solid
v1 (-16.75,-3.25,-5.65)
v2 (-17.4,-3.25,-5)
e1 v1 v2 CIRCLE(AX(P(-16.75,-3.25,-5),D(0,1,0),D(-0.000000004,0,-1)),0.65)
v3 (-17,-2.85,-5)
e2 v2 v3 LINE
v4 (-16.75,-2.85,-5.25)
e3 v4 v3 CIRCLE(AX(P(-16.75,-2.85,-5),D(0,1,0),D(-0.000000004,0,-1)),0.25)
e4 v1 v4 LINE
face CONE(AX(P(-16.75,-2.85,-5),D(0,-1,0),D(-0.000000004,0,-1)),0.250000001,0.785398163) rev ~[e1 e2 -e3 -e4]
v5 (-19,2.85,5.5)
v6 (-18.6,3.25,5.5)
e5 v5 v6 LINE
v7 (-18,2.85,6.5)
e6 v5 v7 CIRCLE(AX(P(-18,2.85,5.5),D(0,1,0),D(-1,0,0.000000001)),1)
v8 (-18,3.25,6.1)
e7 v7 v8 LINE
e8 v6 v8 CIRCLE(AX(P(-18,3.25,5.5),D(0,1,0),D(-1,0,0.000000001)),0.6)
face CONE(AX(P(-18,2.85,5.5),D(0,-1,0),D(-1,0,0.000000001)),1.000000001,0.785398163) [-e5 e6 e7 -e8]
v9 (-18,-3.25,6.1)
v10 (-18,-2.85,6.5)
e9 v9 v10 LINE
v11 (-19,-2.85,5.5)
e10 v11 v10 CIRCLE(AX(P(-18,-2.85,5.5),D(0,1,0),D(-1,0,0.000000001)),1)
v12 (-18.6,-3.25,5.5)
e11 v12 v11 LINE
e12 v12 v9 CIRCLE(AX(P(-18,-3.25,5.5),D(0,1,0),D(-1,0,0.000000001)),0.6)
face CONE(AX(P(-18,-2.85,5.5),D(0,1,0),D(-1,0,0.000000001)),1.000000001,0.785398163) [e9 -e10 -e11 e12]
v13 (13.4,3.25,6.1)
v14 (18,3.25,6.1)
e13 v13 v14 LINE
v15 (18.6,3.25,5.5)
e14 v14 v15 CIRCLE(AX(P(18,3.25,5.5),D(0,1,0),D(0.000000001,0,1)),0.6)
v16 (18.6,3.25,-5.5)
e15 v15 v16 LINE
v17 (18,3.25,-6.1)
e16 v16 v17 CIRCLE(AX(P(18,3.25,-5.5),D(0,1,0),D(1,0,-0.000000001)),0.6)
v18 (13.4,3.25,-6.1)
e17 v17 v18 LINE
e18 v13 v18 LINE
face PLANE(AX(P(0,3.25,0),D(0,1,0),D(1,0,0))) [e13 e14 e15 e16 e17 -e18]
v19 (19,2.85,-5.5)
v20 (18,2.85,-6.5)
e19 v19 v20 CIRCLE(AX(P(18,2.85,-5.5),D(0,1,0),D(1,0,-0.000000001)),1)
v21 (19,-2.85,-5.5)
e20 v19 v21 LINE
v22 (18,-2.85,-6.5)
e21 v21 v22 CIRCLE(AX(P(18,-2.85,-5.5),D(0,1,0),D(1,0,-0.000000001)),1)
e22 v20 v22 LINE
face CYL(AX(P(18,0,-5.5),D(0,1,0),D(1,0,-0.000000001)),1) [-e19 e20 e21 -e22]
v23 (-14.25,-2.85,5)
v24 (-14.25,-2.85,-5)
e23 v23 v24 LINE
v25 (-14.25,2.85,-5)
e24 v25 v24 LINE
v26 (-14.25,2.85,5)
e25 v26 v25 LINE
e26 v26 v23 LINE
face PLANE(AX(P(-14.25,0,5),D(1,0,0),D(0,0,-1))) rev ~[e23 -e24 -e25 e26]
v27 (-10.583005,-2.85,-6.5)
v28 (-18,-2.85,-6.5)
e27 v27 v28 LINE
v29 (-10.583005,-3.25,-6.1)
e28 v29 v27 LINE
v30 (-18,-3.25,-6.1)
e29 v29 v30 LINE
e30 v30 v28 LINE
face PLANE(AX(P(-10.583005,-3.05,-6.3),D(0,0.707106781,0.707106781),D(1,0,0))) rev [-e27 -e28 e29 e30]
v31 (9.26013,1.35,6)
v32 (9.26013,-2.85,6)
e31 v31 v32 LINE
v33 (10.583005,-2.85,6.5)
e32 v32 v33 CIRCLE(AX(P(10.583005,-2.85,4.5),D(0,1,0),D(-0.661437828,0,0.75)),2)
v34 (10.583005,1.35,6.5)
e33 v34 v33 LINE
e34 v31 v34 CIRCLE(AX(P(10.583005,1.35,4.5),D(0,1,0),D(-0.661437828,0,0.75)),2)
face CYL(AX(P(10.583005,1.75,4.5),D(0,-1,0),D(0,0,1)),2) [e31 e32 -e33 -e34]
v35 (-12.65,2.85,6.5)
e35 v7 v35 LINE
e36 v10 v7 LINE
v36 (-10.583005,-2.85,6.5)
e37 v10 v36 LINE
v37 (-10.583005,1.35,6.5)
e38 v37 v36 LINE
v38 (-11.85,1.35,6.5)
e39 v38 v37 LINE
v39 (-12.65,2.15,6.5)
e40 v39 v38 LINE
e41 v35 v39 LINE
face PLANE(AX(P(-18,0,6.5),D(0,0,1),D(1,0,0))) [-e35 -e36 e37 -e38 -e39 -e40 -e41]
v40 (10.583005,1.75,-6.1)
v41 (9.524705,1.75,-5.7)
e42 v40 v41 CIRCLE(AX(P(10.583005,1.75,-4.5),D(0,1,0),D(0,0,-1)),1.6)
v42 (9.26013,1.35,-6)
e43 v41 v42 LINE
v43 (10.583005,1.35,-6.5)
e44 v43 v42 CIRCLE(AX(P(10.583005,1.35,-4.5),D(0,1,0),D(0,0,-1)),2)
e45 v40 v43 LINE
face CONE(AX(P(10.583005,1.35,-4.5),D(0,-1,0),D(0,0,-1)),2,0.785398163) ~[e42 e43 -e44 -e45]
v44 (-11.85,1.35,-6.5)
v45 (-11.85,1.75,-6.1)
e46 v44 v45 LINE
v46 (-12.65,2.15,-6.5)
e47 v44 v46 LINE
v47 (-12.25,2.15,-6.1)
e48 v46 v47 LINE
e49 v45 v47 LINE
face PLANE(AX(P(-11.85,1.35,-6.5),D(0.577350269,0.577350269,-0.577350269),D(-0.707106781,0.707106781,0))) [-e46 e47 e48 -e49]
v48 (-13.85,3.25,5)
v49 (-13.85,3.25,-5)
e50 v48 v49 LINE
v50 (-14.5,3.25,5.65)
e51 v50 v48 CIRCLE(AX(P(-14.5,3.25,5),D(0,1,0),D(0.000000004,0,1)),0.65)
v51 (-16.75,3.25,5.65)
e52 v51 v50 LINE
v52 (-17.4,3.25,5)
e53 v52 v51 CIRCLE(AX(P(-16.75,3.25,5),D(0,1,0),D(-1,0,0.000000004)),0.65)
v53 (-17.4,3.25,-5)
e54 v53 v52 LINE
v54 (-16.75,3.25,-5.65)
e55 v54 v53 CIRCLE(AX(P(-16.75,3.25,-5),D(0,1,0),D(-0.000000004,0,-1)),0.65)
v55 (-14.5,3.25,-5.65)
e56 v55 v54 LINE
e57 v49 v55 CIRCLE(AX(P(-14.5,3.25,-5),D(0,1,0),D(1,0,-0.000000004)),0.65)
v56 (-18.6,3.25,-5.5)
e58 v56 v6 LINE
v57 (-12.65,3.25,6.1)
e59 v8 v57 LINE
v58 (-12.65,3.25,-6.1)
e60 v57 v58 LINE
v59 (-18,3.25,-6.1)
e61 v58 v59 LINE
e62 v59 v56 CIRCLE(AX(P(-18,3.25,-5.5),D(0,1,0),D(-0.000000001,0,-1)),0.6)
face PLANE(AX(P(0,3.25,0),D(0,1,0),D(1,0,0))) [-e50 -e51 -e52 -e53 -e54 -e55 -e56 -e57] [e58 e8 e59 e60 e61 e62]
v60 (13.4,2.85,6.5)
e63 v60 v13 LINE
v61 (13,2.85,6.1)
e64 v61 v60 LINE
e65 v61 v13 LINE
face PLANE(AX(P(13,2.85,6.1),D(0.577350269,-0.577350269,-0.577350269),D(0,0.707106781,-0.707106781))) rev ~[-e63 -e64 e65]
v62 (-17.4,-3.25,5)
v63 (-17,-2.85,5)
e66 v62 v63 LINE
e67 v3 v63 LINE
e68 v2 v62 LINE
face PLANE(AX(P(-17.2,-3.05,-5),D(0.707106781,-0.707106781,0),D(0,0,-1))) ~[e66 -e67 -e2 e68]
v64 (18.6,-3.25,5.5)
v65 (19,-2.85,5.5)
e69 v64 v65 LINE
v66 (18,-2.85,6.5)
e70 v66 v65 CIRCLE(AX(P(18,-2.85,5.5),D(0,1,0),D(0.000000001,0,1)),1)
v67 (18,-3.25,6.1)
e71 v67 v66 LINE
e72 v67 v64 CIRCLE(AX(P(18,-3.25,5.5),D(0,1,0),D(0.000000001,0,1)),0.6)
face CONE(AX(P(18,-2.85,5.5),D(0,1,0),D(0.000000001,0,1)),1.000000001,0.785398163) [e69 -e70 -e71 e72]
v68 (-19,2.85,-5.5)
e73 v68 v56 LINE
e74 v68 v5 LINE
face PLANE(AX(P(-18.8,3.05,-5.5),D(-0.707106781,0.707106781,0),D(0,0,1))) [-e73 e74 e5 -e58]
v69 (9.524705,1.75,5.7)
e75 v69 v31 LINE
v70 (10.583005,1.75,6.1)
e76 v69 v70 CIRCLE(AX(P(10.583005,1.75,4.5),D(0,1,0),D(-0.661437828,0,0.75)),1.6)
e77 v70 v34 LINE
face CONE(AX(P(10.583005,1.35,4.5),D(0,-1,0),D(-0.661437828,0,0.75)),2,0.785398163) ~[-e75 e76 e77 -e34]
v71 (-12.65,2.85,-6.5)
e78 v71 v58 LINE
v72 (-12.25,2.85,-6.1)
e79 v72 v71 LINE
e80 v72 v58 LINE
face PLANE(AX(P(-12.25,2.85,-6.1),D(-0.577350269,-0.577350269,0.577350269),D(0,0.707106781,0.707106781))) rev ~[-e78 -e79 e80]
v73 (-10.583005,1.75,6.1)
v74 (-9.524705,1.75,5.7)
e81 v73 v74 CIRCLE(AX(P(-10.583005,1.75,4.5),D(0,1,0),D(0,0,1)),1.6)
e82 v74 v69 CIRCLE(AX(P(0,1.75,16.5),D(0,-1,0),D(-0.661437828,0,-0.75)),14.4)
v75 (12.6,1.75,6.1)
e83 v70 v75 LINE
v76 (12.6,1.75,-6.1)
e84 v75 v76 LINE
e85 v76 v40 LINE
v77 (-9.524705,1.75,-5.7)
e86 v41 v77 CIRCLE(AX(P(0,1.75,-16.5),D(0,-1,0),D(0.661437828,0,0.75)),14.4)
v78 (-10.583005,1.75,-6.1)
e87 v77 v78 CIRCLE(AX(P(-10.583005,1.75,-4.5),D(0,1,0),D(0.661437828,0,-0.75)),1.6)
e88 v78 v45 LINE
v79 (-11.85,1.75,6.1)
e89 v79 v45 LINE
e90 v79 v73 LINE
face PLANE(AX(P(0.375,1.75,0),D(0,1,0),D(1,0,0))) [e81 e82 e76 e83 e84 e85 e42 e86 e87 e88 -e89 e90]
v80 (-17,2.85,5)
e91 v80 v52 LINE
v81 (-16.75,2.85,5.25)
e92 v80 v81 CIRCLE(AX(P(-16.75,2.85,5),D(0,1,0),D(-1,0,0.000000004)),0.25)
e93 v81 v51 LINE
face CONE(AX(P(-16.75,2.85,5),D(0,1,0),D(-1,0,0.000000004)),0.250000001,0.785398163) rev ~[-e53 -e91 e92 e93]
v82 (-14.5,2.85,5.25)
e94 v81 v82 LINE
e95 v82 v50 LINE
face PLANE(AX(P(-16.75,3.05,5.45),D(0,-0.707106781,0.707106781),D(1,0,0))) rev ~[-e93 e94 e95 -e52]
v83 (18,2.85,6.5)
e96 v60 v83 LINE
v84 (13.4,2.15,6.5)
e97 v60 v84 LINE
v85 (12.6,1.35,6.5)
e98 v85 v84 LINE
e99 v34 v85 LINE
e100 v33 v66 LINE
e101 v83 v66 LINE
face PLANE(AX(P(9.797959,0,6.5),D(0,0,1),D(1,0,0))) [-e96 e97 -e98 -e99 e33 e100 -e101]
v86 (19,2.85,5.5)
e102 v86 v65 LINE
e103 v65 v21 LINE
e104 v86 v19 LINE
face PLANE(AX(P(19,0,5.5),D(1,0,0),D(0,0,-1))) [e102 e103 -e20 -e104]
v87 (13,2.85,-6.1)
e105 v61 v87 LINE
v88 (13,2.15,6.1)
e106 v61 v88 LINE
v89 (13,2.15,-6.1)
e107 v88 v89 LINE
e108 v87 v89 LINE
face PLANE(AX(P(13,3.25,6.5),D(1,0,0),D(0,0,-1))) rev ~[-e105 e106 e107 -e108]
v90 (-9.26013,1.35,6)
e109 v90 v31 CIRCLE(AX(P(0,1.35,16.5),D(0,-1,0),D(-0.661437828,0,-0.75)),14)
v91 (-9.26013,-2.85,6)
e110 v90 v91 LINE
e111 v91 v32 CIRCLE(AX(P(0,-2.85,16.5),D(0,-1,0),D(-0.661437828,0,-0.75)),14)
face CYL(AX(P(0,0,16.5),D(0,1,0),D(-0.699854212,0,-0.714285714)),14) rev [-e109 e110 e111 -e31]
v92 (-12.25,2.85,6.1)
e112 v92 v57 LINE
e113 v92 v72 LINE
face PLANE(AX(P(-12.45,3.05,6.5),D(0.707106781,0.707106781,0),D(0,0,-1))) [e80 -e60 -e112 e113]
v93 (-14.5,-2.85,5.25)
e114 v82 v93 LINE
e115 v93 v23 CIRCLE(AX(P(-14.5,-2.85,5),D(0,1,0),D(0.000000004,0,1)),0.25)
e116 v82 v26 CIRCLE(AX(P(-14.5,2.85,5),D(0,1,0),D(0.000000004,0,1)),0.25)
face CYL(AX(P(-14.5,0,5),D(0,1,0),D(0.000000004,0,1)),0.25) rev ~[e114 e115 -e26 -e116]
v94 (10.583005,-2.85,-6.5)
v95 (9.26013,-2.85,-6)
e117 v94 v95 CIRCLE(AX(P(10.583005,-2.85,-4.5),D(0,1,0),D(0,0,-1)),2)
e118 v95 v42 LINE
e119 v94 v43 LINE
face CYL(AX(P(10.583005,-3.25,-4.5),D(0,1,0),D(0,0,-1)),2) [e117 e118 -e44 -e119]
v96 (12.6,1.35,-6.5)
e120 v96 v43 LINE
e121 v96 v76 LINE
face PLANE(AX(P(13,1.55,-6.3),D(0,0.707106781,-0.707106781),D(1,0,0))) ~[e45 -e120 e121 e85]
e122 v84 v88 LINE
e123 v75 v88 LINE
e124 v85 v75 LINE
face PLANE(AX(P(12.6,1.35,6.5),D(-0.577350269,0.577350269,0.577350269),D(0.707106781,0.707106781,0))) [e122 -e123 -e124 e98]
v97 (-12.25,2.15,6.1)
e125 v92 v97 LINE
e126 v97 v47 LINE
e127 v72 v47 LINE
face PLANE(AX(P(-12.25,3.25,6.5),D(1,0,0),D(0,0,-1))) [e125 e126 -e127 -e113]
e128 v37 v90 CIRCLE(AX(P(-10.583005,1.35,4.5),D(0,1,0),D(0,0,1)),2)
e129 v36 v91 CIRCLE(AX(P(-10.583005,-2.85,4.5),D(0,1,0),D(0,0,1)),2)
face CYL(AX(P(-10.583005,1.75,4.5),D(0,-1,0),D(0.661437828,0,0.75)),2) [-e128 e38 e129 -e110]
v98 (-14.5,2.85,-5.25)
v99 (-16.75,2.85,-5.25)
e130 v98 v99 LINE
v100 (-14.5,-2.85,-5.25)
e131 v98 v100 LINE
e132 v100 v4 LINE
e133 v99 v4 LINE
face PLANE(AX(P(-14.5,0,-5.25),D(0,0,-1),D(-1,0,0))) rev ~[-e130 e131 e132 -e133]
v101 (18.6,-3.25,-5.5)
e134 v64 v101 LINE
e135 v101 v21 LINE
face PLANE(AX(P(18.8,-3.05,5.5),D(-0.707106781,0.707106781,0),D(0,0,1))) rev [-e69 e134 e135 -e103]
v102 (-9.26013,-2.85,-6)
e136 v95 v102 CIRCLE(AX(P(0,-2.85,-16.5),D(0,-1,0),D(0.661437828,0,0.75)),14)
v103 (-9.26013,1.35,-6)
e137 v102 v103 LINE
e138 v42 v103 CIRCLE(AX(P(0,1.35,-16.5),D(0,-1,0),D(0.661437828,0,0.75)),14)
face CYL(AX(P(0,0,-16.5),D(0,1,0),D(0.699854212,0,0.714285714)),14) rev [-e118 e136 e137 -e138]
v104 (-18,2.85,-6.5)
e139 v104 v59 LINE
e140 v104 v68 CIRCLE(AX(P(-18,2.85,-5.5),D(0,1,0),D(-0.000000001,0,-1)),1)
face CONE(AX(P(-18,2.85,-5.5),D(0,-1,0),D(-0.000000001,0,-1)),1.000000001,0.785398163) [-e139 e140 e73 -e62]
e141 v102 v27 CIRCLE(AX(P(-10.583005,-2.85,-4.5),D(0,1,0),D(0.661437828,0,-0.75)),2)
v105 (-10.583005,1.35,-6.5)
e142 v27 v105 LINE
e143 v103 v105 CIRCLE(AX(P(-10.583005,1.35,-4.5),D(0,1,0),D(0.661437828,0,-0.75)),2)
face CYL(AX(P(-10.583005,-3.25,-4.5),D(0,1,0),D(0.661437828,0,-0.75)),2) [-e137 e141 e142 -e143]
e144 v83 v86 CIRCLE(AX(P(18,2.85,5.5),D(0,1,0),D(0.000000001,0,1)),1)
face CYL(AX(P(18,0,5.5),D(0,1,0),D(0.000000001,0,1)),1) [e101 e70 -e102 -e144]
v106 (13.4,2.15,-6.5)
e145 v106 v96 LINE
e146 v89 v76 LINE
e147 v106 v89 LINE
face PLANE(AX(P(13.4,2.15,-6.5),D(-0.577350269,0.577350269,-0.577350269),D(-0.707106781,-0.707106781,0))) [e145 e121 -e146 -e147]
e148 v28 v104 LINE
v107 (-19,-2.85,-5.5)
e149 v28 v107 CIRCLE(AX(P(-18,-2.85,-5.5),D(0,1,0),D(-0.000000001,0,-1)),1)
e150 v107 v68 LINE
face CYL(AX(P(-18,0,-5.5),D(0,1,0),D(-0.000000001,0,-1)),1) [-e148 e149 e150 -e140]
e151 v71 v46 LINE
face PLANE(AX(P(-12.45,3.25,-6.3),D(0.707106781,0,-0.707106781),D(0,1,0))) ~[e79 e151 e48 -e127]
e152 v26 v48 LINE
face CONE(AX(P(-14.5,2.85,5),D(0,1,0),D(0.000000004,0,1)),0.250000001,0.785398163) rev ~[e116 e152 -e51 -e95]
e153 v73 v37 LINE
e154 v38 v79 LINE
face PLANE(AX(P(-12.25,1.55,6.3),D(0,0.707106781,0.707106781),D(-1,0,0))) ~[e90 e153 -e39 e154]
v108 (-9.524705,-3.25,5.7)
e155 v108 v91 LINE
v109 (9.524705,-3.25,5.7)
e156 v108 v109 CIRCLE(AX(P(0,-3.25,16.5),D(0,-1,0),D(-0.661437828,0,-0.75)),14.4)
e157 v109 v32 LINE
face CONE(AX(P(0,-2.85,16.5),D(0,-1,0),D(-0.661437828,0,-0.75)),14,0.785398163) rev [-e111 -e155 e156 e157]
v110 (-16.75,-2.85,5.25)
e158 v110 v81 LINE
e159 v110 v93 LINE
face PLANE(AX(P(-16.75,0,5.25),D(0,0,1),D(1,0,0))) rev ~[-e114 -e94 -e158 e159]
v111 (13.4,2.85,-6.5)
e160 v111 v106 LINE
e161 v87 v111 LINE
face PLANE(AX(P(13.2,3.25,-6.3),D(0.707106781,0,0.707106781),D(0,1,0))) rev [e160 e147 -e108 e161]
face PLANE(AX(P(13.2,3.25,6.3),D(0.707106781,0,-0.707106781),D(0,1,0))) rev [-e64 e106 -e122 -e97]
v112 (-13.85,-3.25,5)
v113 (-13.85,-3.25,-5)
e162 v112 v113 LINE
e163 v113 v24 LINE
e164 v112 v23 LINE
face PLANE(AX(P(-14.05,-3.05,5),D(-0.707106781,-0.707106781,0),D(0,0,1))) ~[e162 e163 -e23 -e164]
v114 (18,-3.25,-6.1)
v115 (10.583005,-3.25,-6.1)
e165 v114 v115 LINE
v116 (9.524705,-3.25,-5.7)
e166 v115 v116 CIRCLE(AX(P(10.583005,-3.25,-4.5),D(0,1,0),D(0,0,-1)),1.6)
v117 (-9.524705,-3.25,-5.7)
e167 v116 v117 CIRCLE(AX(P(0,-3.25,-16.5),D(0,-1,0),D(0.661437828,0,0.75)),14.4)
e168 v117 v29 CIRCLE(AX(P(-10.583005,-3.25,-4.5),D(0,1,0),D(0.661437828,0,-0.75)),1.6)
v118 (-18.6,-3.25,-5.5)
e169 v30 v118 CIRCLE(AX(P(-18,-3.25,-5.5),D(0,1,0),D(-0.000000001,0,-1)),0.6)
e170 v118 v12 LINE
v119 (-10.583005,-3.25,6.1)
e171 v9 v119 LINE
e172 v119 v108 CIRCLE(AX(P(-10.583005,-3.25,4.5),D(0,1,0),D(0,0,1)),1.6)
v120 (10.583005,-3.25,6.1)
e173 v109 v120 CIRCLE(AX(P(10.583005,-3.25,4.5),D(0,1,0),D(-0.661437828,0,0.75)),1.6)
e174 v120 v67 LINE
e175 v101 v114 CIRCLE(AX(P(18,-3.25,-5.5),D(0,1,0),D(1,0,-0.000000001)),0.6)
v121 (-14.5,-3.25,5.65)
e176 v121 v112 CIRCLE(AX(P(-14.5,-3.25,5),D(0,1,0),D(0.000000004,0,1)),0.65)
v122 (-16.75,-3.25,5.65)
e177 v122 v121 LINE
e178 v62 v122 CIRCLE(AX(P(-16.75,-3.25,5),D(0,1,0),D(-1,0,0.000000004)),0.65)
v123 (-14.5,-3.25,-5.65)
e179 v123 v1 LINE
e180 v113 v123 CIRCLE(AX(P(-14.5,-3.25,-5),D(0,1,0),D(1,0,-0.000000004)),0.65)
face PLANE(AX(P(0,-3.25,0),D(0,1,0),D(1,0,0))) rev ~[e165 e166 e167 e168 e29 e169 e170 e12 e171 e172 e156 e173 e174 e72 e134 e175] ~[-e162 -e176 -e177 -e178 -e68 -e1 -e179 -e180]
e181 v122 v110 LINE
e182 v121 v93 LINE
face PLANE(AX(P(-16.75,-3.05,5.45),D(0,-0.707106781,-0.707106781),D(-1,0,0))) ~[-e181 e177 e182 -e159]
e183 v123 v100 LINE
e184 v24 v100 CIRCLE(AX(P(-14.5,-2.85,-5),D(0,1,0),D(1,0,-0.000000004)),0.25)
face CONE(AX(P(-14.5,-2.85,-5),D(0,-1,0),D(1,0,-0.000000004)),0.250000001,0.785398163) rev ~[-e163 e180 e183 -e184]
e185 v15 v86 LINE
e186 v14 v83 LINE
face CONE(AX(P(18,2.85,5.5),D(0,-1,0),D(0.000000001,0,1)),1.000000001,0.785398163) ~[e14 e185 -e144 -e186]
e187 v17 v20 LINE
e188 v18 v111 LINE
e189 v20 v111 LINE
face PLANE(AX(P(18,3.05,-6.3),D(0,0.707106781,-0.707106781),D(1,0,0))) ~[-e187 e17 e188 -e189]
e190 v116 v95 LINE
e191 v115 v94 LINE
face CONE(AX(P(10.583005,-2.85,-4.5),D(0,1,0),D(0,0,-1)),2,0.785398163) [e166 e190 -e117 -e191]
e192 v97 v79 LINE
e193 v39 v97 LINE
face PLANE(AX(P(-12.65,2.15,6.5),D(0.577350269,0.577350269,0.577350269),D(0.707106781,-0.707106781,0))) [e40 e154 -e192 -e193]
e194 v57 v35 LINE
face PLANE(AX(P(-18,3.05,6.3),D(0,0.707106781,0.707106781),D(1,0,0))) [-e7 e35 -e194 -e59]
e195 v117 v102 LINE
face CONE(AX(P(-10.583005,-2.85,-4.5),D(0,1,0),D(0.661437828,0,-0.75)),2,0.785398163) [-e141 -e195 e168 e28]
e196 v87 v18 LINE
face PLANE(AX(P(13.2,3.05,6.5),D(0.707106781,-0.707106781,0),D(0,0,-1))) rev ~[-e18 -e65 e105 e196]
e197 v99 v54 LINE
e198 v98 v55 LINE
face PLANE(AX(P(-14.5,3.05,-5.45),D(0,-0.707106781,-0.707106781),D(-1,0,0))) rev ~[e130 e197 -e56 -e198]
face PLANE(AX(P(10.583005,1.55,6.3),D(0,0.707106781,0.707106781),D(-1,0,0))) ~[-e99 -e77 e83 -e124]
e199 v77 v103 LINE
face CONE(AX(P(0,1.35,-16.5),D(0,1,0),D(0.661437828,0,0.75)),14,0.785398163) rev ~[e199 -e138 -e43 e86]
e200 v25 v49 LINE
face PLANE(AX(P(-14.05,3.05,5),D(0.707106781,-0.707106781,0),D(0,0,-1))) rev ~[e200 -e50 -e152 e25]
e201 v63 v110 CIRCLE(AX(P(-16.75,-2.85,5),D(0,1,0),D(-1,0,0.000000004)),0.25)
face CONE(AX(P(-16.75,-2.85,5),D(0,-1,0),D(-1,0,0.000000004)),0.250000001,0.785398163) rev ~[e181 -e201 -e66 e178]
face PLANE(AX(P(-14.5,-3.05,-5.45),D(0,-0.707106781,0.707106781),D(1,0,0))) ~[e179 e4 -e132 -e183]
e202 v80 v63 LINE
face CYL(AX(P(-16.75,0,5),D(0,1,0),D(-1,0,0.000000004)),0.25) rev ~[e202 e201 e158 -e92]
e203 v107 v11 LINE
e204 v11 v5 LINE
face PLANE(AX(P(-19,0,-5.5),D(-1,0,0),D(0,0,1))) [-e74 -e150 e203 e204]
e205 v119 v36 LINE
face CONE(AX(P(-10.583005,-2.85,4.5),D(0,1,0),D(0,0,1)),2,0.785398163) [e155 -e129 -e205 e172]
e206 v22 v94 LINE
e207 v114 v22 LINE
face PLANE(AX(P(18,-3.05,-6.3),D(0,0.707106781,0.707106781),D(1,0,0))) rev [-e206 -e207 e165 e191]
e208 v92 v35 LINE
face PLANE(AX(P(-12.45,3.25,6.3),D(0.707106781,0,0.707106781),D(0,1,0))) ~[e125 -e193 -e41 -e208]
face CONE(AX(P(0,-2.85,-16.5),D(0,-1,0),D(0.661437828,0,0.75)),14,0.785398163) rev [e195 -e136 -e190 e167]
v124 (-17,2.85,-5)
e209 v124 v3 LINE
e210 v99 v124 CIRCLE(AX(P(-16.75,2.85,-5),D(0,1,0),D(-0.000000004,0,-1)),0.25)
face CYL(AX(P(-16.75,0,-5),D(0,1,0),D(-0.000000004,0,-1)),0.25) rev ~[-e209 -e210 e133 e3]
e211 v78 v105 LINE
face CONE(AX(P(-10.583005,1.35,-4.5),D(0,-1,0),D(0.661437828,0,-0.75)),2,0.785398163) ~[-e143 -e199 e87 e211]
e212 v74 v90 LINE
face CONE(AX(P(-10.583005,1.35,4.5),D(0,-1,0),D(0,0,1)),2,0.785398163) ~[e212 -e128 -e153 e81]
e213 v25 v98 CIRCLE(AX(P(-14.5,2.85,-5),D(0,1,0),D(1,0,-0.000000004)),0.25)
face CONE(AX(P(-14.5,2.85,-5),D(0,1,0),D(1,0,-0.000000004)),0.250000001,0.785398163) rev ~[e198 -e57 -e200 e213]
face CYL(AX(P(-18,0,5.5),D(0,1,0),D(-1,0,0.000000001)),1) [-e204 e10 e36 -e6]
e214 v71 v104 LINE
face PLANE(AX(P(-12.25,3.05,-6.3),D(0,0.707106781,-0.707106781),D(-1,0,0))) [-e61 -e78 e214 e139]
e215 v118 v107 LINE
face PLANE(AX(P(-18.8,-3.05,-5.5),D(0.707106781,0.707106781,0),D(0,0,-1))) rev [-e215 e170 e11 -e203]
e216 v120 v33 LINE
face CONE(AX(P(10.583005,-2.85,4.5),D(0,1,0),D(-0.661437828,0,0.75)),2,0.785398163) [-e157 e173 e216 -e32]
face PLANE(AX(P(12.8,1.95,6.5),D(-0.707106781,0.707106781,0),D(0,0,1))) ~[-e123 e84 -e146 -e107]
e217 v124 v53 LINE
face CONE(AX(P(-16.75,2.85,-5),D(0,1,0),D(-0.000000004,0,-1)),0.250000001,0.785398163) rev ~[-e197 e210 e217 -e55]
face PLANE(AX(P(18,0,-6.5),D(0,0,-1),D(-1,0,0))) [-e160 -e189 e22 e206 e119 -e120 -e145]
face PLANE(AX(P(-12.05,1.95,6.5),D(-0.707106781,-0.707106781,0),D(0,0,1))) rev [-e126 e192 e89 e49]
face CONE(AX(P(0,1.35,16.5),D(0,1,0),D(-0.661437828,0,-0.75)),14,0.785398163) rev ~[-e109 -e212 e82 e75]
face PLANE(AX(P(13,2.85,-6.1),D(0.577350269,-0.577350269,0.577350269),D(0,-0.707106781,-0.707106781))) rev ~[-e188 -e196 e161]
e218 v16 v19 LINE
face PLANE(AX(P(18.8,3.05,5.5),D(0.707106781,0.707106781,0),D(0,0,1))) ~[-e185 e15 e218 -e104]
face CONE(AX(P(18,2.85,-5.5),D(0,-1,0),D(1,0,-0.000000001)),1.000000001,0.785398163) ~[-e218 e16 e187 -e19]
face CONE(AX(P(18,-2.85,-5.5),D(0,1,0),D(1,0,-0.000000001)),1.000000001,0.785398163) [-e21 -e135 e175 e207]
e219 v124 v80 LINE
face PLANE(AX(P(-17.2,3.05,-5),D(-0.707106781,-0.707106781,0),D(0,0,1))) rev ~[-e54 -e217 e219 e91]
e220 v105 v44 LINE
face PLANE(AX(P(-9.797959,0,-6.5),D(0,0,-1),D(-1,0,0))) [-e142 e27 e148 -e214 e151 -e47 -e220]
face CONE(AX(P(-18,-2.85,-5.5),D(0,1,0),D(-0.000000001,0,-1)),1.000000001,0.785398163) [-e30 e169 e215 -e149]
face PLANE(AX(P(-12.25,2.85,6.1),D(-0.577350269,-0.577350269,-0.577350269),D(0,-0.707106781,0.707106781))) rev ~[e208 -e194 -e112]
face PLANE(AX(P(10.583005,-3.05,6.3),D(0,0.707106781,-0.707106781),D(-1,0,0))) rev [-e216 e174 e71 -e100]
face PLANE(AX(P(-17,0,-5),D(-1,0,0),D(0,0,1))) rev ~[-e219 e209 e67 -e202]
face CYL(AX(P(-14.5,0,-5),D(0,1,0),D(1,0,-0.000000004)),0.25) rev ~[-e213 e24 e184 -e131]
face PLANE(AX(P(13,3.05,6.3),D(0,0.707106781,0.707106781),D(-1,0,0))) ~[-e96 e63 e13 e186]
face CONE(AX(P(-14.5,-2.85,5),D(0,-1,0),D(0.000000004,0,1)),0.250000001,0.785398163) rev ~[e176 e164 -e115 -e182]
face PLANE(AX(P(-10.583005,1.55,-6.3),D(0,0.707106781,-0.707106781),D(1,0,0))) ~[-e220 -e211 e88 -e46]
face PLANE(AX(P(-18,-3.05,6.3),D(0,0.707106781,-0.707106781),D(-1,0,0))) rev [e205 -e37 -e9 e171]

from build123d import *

# Parameters (mm, degrees)
BOSS_EXTRUDE1_DEPTH = 3.25
SKETCH2_W           = 25.25
SKETCH2_H           = 13
CUT_EXTRUDE1_DEPTH  = 1.5
FILLET1_R           = 2
CHAMFER1_SIZE       = 0.4


with BuildPart() as part:
    # Sketch1 → Boss-Extrude1 (new body, symmetric)
    with BuildSketch(Plane(origin=(0, 0, 0), x_dir=(1, 0, 0), z_dir=(0, 1, 0))):
        with BuildLine():
            Line((18, 6.5), (9.797958971, 6.5))
            ThreePointArc((9.797958971, 6.5), (0, 2.5), (-9.797958971, 6.5))
            Line((-9.797958971, 6.5), (-18, 6.5))
            ThreePointArc((-18, 6.5), (-18.707106781, 6.207106781), (-19, 5.5))
            Line((-19, 5.5), (-19, -5.5))
            ThreePointArc((-19, -5.5), (-18.707106781, -6.207106781), (-18, -6.5))
            Line((-18, -6.5), (-9.797958971, -6.5))
            ThreePointArc((-9.797958971, -6.5), (0, -2.5), (9.797958971, -6.5))
            Line((9.797958971, -6.5), (18, -6.5))
            ThreePointArc((18, -6.5), (18.707106781, -6.207106781), (19, -5.5))
            Line((19, -5.5), (19, 5.5))
            ThreePointArc((19, 5.5), (18.707106781, 6.207106781), (18, 6.5))
        make_face()
        with BuildLine():
            Line((-16.75, -5.25), (-14.5, -5.25))
            ThreePointArc((-14.5, -5.25), (-14.323223305, -5.176776695), (-14.25, -5))
            Line((-14.25, -5), (-14.25, 5))
            ThreePointArc((-14.25, 5), (-14.323223305, 5.176776695), (-14.5, 5.25))
            Line((-14.5, 5.25), (-16.75, 5.25))
            ThreePointArc((-16.75, 5.25), (-16.926776695, 5.176776695), (-17, 5))
            Line((-17, 5), (-17, -5))
            ThreePointArc((-17, -5), (-16.926776695, -5.176776695), (-16.75, -5.25))
        make_face(mode=Mode.SUBTRACT)
    extrude(amount=BOSS_EXTRUDE1_DEPTH, both=True)

    # Sketch2 → Cut-Extrude1 (cut)
    with BuildSketch(Plane(origin=(0, 3.25, 0), x_dir=(1, 0, 0), z_dir=(0, 1, 0))):
        with Locations((0.375, 0)):
            Rectangle(SKETCH2_W, SKETCH2_H)
    extrude(amount=-CUT_EXTRUDE1_DEPTH, mode=Mode.SUBTRACT)

    # Fillet1
    fillet1_edges = [part.edges().sort_by_distance(p)[0] for p in [
        (9.797958971, -0.75, 6.5),
        (-9.797958971, -0.75, 6.5),
        (-9.797958971, -0.75, -6.5),
        (9.797958971, -0.75, -6.5),
    ]]
    fillet(fillet1_edges, radius=FILLET1_R)

    # Chamfer1
    chamfer1_edges = [part.edges().sort_by_distance(p)[0] for p in [
        (-9.875898463, 1.75, -6.370828693),
        (19, -3.25, 0),
        (18.707106781, -3.25, 6.207106781),
        (-14.291502622, -3.25, 6.5),
        (-18.707106781, -3.25, 6.207106781),
        (-19, -3.25, 0),
        (-18.707106781, -3.25, -6.207106781),
        (14.291502622, -3.25, -6.5),
        (18.707106781, -3.25, -6.207106781),
        (-18.707106781, 3.25, -6.207106781),
        (-19, 3.25, 0),
        (-18.707106781, 3.25, 6.207106781),
        (-15.125, 3.25, 6.5),
        (-16.926776695, -3.25, 5.176776695),
        (-15.625, -3.25, 5.25),
        (-14.323223305, -3.25, 5.176776695),
        (-14.25, -3.25, 0),
        (-14.323223305, -3.25, -5.176776695),
        (-15.625, -3.25, -5.25),
        (-16.926776695, -3.25, -5.176776695),
        (-17, -3.25, 0),
        (-16.926776695, 3.25, 5.176776695),
        (-15.625, 3.25, 5.25),
        (-14.323223305, 3.25, 5.176776695),
        (-14.25, 3.25, 0),
        (-14.323223305, 3.25, -5.176776695),
        (-15.625, 3.25, -5.25),
        (-16.926776695, 3.25, -5.176776695),
        (-17, 3.25, 0),
        (18.707106781, 3.25, 6.207106781),
        (19, 3.25, 0),
        (18.707106781, 3.25, -6.207106781),
        (15.5, 3.25, 6.5),
        (11.791502622, 1.75, 6.5),
        (-15.125, 3.25, -6.5),
        (11.791502622, 1.75, -6.5),
        (-12.25, 2.5, -6.5),
        (-11.416502622, 1.75, 6.5),
        (13, 2.5, 6.5),
        (-12.25, 3.25, 0),
        (13, 3.25, 0),
        (13, 1.75, 0),
        (13, 2.5, -6.5),
        (-12.25, 1.75, 0),
        (-12.25, 2.5, 6.5),
        (15.5, 3.25, -6.5),
        (-11.416502622, 1.75, -6.5),
        (-14.291502622, -3.25, -6.5),
        (14.291502622, -3.25, 6.5),
        (0, -3.25, 2.5),
        (0, -3.25, -2.5),
        (-9.875898463, -3.25, 6.370828693),
        (9.875898463, -3.25, 6.370828693),
        (9.875898463, -3.25, -6.370828693),
        (-9.875898463, -3.25, -6.370828693),
        (0, 1.75, -2.5),
        (0, 1.75, 2.5),
        (-9.875898463, 1.75, 6.370828693),
        (9.875898463, 1.75, 6.370828693),
        (9.875898463, 1.75, -6.370828693),
    ]]
    chamfer(chamfer1_edges, length=CHAMFER1_SIZE)


solid = part.part
